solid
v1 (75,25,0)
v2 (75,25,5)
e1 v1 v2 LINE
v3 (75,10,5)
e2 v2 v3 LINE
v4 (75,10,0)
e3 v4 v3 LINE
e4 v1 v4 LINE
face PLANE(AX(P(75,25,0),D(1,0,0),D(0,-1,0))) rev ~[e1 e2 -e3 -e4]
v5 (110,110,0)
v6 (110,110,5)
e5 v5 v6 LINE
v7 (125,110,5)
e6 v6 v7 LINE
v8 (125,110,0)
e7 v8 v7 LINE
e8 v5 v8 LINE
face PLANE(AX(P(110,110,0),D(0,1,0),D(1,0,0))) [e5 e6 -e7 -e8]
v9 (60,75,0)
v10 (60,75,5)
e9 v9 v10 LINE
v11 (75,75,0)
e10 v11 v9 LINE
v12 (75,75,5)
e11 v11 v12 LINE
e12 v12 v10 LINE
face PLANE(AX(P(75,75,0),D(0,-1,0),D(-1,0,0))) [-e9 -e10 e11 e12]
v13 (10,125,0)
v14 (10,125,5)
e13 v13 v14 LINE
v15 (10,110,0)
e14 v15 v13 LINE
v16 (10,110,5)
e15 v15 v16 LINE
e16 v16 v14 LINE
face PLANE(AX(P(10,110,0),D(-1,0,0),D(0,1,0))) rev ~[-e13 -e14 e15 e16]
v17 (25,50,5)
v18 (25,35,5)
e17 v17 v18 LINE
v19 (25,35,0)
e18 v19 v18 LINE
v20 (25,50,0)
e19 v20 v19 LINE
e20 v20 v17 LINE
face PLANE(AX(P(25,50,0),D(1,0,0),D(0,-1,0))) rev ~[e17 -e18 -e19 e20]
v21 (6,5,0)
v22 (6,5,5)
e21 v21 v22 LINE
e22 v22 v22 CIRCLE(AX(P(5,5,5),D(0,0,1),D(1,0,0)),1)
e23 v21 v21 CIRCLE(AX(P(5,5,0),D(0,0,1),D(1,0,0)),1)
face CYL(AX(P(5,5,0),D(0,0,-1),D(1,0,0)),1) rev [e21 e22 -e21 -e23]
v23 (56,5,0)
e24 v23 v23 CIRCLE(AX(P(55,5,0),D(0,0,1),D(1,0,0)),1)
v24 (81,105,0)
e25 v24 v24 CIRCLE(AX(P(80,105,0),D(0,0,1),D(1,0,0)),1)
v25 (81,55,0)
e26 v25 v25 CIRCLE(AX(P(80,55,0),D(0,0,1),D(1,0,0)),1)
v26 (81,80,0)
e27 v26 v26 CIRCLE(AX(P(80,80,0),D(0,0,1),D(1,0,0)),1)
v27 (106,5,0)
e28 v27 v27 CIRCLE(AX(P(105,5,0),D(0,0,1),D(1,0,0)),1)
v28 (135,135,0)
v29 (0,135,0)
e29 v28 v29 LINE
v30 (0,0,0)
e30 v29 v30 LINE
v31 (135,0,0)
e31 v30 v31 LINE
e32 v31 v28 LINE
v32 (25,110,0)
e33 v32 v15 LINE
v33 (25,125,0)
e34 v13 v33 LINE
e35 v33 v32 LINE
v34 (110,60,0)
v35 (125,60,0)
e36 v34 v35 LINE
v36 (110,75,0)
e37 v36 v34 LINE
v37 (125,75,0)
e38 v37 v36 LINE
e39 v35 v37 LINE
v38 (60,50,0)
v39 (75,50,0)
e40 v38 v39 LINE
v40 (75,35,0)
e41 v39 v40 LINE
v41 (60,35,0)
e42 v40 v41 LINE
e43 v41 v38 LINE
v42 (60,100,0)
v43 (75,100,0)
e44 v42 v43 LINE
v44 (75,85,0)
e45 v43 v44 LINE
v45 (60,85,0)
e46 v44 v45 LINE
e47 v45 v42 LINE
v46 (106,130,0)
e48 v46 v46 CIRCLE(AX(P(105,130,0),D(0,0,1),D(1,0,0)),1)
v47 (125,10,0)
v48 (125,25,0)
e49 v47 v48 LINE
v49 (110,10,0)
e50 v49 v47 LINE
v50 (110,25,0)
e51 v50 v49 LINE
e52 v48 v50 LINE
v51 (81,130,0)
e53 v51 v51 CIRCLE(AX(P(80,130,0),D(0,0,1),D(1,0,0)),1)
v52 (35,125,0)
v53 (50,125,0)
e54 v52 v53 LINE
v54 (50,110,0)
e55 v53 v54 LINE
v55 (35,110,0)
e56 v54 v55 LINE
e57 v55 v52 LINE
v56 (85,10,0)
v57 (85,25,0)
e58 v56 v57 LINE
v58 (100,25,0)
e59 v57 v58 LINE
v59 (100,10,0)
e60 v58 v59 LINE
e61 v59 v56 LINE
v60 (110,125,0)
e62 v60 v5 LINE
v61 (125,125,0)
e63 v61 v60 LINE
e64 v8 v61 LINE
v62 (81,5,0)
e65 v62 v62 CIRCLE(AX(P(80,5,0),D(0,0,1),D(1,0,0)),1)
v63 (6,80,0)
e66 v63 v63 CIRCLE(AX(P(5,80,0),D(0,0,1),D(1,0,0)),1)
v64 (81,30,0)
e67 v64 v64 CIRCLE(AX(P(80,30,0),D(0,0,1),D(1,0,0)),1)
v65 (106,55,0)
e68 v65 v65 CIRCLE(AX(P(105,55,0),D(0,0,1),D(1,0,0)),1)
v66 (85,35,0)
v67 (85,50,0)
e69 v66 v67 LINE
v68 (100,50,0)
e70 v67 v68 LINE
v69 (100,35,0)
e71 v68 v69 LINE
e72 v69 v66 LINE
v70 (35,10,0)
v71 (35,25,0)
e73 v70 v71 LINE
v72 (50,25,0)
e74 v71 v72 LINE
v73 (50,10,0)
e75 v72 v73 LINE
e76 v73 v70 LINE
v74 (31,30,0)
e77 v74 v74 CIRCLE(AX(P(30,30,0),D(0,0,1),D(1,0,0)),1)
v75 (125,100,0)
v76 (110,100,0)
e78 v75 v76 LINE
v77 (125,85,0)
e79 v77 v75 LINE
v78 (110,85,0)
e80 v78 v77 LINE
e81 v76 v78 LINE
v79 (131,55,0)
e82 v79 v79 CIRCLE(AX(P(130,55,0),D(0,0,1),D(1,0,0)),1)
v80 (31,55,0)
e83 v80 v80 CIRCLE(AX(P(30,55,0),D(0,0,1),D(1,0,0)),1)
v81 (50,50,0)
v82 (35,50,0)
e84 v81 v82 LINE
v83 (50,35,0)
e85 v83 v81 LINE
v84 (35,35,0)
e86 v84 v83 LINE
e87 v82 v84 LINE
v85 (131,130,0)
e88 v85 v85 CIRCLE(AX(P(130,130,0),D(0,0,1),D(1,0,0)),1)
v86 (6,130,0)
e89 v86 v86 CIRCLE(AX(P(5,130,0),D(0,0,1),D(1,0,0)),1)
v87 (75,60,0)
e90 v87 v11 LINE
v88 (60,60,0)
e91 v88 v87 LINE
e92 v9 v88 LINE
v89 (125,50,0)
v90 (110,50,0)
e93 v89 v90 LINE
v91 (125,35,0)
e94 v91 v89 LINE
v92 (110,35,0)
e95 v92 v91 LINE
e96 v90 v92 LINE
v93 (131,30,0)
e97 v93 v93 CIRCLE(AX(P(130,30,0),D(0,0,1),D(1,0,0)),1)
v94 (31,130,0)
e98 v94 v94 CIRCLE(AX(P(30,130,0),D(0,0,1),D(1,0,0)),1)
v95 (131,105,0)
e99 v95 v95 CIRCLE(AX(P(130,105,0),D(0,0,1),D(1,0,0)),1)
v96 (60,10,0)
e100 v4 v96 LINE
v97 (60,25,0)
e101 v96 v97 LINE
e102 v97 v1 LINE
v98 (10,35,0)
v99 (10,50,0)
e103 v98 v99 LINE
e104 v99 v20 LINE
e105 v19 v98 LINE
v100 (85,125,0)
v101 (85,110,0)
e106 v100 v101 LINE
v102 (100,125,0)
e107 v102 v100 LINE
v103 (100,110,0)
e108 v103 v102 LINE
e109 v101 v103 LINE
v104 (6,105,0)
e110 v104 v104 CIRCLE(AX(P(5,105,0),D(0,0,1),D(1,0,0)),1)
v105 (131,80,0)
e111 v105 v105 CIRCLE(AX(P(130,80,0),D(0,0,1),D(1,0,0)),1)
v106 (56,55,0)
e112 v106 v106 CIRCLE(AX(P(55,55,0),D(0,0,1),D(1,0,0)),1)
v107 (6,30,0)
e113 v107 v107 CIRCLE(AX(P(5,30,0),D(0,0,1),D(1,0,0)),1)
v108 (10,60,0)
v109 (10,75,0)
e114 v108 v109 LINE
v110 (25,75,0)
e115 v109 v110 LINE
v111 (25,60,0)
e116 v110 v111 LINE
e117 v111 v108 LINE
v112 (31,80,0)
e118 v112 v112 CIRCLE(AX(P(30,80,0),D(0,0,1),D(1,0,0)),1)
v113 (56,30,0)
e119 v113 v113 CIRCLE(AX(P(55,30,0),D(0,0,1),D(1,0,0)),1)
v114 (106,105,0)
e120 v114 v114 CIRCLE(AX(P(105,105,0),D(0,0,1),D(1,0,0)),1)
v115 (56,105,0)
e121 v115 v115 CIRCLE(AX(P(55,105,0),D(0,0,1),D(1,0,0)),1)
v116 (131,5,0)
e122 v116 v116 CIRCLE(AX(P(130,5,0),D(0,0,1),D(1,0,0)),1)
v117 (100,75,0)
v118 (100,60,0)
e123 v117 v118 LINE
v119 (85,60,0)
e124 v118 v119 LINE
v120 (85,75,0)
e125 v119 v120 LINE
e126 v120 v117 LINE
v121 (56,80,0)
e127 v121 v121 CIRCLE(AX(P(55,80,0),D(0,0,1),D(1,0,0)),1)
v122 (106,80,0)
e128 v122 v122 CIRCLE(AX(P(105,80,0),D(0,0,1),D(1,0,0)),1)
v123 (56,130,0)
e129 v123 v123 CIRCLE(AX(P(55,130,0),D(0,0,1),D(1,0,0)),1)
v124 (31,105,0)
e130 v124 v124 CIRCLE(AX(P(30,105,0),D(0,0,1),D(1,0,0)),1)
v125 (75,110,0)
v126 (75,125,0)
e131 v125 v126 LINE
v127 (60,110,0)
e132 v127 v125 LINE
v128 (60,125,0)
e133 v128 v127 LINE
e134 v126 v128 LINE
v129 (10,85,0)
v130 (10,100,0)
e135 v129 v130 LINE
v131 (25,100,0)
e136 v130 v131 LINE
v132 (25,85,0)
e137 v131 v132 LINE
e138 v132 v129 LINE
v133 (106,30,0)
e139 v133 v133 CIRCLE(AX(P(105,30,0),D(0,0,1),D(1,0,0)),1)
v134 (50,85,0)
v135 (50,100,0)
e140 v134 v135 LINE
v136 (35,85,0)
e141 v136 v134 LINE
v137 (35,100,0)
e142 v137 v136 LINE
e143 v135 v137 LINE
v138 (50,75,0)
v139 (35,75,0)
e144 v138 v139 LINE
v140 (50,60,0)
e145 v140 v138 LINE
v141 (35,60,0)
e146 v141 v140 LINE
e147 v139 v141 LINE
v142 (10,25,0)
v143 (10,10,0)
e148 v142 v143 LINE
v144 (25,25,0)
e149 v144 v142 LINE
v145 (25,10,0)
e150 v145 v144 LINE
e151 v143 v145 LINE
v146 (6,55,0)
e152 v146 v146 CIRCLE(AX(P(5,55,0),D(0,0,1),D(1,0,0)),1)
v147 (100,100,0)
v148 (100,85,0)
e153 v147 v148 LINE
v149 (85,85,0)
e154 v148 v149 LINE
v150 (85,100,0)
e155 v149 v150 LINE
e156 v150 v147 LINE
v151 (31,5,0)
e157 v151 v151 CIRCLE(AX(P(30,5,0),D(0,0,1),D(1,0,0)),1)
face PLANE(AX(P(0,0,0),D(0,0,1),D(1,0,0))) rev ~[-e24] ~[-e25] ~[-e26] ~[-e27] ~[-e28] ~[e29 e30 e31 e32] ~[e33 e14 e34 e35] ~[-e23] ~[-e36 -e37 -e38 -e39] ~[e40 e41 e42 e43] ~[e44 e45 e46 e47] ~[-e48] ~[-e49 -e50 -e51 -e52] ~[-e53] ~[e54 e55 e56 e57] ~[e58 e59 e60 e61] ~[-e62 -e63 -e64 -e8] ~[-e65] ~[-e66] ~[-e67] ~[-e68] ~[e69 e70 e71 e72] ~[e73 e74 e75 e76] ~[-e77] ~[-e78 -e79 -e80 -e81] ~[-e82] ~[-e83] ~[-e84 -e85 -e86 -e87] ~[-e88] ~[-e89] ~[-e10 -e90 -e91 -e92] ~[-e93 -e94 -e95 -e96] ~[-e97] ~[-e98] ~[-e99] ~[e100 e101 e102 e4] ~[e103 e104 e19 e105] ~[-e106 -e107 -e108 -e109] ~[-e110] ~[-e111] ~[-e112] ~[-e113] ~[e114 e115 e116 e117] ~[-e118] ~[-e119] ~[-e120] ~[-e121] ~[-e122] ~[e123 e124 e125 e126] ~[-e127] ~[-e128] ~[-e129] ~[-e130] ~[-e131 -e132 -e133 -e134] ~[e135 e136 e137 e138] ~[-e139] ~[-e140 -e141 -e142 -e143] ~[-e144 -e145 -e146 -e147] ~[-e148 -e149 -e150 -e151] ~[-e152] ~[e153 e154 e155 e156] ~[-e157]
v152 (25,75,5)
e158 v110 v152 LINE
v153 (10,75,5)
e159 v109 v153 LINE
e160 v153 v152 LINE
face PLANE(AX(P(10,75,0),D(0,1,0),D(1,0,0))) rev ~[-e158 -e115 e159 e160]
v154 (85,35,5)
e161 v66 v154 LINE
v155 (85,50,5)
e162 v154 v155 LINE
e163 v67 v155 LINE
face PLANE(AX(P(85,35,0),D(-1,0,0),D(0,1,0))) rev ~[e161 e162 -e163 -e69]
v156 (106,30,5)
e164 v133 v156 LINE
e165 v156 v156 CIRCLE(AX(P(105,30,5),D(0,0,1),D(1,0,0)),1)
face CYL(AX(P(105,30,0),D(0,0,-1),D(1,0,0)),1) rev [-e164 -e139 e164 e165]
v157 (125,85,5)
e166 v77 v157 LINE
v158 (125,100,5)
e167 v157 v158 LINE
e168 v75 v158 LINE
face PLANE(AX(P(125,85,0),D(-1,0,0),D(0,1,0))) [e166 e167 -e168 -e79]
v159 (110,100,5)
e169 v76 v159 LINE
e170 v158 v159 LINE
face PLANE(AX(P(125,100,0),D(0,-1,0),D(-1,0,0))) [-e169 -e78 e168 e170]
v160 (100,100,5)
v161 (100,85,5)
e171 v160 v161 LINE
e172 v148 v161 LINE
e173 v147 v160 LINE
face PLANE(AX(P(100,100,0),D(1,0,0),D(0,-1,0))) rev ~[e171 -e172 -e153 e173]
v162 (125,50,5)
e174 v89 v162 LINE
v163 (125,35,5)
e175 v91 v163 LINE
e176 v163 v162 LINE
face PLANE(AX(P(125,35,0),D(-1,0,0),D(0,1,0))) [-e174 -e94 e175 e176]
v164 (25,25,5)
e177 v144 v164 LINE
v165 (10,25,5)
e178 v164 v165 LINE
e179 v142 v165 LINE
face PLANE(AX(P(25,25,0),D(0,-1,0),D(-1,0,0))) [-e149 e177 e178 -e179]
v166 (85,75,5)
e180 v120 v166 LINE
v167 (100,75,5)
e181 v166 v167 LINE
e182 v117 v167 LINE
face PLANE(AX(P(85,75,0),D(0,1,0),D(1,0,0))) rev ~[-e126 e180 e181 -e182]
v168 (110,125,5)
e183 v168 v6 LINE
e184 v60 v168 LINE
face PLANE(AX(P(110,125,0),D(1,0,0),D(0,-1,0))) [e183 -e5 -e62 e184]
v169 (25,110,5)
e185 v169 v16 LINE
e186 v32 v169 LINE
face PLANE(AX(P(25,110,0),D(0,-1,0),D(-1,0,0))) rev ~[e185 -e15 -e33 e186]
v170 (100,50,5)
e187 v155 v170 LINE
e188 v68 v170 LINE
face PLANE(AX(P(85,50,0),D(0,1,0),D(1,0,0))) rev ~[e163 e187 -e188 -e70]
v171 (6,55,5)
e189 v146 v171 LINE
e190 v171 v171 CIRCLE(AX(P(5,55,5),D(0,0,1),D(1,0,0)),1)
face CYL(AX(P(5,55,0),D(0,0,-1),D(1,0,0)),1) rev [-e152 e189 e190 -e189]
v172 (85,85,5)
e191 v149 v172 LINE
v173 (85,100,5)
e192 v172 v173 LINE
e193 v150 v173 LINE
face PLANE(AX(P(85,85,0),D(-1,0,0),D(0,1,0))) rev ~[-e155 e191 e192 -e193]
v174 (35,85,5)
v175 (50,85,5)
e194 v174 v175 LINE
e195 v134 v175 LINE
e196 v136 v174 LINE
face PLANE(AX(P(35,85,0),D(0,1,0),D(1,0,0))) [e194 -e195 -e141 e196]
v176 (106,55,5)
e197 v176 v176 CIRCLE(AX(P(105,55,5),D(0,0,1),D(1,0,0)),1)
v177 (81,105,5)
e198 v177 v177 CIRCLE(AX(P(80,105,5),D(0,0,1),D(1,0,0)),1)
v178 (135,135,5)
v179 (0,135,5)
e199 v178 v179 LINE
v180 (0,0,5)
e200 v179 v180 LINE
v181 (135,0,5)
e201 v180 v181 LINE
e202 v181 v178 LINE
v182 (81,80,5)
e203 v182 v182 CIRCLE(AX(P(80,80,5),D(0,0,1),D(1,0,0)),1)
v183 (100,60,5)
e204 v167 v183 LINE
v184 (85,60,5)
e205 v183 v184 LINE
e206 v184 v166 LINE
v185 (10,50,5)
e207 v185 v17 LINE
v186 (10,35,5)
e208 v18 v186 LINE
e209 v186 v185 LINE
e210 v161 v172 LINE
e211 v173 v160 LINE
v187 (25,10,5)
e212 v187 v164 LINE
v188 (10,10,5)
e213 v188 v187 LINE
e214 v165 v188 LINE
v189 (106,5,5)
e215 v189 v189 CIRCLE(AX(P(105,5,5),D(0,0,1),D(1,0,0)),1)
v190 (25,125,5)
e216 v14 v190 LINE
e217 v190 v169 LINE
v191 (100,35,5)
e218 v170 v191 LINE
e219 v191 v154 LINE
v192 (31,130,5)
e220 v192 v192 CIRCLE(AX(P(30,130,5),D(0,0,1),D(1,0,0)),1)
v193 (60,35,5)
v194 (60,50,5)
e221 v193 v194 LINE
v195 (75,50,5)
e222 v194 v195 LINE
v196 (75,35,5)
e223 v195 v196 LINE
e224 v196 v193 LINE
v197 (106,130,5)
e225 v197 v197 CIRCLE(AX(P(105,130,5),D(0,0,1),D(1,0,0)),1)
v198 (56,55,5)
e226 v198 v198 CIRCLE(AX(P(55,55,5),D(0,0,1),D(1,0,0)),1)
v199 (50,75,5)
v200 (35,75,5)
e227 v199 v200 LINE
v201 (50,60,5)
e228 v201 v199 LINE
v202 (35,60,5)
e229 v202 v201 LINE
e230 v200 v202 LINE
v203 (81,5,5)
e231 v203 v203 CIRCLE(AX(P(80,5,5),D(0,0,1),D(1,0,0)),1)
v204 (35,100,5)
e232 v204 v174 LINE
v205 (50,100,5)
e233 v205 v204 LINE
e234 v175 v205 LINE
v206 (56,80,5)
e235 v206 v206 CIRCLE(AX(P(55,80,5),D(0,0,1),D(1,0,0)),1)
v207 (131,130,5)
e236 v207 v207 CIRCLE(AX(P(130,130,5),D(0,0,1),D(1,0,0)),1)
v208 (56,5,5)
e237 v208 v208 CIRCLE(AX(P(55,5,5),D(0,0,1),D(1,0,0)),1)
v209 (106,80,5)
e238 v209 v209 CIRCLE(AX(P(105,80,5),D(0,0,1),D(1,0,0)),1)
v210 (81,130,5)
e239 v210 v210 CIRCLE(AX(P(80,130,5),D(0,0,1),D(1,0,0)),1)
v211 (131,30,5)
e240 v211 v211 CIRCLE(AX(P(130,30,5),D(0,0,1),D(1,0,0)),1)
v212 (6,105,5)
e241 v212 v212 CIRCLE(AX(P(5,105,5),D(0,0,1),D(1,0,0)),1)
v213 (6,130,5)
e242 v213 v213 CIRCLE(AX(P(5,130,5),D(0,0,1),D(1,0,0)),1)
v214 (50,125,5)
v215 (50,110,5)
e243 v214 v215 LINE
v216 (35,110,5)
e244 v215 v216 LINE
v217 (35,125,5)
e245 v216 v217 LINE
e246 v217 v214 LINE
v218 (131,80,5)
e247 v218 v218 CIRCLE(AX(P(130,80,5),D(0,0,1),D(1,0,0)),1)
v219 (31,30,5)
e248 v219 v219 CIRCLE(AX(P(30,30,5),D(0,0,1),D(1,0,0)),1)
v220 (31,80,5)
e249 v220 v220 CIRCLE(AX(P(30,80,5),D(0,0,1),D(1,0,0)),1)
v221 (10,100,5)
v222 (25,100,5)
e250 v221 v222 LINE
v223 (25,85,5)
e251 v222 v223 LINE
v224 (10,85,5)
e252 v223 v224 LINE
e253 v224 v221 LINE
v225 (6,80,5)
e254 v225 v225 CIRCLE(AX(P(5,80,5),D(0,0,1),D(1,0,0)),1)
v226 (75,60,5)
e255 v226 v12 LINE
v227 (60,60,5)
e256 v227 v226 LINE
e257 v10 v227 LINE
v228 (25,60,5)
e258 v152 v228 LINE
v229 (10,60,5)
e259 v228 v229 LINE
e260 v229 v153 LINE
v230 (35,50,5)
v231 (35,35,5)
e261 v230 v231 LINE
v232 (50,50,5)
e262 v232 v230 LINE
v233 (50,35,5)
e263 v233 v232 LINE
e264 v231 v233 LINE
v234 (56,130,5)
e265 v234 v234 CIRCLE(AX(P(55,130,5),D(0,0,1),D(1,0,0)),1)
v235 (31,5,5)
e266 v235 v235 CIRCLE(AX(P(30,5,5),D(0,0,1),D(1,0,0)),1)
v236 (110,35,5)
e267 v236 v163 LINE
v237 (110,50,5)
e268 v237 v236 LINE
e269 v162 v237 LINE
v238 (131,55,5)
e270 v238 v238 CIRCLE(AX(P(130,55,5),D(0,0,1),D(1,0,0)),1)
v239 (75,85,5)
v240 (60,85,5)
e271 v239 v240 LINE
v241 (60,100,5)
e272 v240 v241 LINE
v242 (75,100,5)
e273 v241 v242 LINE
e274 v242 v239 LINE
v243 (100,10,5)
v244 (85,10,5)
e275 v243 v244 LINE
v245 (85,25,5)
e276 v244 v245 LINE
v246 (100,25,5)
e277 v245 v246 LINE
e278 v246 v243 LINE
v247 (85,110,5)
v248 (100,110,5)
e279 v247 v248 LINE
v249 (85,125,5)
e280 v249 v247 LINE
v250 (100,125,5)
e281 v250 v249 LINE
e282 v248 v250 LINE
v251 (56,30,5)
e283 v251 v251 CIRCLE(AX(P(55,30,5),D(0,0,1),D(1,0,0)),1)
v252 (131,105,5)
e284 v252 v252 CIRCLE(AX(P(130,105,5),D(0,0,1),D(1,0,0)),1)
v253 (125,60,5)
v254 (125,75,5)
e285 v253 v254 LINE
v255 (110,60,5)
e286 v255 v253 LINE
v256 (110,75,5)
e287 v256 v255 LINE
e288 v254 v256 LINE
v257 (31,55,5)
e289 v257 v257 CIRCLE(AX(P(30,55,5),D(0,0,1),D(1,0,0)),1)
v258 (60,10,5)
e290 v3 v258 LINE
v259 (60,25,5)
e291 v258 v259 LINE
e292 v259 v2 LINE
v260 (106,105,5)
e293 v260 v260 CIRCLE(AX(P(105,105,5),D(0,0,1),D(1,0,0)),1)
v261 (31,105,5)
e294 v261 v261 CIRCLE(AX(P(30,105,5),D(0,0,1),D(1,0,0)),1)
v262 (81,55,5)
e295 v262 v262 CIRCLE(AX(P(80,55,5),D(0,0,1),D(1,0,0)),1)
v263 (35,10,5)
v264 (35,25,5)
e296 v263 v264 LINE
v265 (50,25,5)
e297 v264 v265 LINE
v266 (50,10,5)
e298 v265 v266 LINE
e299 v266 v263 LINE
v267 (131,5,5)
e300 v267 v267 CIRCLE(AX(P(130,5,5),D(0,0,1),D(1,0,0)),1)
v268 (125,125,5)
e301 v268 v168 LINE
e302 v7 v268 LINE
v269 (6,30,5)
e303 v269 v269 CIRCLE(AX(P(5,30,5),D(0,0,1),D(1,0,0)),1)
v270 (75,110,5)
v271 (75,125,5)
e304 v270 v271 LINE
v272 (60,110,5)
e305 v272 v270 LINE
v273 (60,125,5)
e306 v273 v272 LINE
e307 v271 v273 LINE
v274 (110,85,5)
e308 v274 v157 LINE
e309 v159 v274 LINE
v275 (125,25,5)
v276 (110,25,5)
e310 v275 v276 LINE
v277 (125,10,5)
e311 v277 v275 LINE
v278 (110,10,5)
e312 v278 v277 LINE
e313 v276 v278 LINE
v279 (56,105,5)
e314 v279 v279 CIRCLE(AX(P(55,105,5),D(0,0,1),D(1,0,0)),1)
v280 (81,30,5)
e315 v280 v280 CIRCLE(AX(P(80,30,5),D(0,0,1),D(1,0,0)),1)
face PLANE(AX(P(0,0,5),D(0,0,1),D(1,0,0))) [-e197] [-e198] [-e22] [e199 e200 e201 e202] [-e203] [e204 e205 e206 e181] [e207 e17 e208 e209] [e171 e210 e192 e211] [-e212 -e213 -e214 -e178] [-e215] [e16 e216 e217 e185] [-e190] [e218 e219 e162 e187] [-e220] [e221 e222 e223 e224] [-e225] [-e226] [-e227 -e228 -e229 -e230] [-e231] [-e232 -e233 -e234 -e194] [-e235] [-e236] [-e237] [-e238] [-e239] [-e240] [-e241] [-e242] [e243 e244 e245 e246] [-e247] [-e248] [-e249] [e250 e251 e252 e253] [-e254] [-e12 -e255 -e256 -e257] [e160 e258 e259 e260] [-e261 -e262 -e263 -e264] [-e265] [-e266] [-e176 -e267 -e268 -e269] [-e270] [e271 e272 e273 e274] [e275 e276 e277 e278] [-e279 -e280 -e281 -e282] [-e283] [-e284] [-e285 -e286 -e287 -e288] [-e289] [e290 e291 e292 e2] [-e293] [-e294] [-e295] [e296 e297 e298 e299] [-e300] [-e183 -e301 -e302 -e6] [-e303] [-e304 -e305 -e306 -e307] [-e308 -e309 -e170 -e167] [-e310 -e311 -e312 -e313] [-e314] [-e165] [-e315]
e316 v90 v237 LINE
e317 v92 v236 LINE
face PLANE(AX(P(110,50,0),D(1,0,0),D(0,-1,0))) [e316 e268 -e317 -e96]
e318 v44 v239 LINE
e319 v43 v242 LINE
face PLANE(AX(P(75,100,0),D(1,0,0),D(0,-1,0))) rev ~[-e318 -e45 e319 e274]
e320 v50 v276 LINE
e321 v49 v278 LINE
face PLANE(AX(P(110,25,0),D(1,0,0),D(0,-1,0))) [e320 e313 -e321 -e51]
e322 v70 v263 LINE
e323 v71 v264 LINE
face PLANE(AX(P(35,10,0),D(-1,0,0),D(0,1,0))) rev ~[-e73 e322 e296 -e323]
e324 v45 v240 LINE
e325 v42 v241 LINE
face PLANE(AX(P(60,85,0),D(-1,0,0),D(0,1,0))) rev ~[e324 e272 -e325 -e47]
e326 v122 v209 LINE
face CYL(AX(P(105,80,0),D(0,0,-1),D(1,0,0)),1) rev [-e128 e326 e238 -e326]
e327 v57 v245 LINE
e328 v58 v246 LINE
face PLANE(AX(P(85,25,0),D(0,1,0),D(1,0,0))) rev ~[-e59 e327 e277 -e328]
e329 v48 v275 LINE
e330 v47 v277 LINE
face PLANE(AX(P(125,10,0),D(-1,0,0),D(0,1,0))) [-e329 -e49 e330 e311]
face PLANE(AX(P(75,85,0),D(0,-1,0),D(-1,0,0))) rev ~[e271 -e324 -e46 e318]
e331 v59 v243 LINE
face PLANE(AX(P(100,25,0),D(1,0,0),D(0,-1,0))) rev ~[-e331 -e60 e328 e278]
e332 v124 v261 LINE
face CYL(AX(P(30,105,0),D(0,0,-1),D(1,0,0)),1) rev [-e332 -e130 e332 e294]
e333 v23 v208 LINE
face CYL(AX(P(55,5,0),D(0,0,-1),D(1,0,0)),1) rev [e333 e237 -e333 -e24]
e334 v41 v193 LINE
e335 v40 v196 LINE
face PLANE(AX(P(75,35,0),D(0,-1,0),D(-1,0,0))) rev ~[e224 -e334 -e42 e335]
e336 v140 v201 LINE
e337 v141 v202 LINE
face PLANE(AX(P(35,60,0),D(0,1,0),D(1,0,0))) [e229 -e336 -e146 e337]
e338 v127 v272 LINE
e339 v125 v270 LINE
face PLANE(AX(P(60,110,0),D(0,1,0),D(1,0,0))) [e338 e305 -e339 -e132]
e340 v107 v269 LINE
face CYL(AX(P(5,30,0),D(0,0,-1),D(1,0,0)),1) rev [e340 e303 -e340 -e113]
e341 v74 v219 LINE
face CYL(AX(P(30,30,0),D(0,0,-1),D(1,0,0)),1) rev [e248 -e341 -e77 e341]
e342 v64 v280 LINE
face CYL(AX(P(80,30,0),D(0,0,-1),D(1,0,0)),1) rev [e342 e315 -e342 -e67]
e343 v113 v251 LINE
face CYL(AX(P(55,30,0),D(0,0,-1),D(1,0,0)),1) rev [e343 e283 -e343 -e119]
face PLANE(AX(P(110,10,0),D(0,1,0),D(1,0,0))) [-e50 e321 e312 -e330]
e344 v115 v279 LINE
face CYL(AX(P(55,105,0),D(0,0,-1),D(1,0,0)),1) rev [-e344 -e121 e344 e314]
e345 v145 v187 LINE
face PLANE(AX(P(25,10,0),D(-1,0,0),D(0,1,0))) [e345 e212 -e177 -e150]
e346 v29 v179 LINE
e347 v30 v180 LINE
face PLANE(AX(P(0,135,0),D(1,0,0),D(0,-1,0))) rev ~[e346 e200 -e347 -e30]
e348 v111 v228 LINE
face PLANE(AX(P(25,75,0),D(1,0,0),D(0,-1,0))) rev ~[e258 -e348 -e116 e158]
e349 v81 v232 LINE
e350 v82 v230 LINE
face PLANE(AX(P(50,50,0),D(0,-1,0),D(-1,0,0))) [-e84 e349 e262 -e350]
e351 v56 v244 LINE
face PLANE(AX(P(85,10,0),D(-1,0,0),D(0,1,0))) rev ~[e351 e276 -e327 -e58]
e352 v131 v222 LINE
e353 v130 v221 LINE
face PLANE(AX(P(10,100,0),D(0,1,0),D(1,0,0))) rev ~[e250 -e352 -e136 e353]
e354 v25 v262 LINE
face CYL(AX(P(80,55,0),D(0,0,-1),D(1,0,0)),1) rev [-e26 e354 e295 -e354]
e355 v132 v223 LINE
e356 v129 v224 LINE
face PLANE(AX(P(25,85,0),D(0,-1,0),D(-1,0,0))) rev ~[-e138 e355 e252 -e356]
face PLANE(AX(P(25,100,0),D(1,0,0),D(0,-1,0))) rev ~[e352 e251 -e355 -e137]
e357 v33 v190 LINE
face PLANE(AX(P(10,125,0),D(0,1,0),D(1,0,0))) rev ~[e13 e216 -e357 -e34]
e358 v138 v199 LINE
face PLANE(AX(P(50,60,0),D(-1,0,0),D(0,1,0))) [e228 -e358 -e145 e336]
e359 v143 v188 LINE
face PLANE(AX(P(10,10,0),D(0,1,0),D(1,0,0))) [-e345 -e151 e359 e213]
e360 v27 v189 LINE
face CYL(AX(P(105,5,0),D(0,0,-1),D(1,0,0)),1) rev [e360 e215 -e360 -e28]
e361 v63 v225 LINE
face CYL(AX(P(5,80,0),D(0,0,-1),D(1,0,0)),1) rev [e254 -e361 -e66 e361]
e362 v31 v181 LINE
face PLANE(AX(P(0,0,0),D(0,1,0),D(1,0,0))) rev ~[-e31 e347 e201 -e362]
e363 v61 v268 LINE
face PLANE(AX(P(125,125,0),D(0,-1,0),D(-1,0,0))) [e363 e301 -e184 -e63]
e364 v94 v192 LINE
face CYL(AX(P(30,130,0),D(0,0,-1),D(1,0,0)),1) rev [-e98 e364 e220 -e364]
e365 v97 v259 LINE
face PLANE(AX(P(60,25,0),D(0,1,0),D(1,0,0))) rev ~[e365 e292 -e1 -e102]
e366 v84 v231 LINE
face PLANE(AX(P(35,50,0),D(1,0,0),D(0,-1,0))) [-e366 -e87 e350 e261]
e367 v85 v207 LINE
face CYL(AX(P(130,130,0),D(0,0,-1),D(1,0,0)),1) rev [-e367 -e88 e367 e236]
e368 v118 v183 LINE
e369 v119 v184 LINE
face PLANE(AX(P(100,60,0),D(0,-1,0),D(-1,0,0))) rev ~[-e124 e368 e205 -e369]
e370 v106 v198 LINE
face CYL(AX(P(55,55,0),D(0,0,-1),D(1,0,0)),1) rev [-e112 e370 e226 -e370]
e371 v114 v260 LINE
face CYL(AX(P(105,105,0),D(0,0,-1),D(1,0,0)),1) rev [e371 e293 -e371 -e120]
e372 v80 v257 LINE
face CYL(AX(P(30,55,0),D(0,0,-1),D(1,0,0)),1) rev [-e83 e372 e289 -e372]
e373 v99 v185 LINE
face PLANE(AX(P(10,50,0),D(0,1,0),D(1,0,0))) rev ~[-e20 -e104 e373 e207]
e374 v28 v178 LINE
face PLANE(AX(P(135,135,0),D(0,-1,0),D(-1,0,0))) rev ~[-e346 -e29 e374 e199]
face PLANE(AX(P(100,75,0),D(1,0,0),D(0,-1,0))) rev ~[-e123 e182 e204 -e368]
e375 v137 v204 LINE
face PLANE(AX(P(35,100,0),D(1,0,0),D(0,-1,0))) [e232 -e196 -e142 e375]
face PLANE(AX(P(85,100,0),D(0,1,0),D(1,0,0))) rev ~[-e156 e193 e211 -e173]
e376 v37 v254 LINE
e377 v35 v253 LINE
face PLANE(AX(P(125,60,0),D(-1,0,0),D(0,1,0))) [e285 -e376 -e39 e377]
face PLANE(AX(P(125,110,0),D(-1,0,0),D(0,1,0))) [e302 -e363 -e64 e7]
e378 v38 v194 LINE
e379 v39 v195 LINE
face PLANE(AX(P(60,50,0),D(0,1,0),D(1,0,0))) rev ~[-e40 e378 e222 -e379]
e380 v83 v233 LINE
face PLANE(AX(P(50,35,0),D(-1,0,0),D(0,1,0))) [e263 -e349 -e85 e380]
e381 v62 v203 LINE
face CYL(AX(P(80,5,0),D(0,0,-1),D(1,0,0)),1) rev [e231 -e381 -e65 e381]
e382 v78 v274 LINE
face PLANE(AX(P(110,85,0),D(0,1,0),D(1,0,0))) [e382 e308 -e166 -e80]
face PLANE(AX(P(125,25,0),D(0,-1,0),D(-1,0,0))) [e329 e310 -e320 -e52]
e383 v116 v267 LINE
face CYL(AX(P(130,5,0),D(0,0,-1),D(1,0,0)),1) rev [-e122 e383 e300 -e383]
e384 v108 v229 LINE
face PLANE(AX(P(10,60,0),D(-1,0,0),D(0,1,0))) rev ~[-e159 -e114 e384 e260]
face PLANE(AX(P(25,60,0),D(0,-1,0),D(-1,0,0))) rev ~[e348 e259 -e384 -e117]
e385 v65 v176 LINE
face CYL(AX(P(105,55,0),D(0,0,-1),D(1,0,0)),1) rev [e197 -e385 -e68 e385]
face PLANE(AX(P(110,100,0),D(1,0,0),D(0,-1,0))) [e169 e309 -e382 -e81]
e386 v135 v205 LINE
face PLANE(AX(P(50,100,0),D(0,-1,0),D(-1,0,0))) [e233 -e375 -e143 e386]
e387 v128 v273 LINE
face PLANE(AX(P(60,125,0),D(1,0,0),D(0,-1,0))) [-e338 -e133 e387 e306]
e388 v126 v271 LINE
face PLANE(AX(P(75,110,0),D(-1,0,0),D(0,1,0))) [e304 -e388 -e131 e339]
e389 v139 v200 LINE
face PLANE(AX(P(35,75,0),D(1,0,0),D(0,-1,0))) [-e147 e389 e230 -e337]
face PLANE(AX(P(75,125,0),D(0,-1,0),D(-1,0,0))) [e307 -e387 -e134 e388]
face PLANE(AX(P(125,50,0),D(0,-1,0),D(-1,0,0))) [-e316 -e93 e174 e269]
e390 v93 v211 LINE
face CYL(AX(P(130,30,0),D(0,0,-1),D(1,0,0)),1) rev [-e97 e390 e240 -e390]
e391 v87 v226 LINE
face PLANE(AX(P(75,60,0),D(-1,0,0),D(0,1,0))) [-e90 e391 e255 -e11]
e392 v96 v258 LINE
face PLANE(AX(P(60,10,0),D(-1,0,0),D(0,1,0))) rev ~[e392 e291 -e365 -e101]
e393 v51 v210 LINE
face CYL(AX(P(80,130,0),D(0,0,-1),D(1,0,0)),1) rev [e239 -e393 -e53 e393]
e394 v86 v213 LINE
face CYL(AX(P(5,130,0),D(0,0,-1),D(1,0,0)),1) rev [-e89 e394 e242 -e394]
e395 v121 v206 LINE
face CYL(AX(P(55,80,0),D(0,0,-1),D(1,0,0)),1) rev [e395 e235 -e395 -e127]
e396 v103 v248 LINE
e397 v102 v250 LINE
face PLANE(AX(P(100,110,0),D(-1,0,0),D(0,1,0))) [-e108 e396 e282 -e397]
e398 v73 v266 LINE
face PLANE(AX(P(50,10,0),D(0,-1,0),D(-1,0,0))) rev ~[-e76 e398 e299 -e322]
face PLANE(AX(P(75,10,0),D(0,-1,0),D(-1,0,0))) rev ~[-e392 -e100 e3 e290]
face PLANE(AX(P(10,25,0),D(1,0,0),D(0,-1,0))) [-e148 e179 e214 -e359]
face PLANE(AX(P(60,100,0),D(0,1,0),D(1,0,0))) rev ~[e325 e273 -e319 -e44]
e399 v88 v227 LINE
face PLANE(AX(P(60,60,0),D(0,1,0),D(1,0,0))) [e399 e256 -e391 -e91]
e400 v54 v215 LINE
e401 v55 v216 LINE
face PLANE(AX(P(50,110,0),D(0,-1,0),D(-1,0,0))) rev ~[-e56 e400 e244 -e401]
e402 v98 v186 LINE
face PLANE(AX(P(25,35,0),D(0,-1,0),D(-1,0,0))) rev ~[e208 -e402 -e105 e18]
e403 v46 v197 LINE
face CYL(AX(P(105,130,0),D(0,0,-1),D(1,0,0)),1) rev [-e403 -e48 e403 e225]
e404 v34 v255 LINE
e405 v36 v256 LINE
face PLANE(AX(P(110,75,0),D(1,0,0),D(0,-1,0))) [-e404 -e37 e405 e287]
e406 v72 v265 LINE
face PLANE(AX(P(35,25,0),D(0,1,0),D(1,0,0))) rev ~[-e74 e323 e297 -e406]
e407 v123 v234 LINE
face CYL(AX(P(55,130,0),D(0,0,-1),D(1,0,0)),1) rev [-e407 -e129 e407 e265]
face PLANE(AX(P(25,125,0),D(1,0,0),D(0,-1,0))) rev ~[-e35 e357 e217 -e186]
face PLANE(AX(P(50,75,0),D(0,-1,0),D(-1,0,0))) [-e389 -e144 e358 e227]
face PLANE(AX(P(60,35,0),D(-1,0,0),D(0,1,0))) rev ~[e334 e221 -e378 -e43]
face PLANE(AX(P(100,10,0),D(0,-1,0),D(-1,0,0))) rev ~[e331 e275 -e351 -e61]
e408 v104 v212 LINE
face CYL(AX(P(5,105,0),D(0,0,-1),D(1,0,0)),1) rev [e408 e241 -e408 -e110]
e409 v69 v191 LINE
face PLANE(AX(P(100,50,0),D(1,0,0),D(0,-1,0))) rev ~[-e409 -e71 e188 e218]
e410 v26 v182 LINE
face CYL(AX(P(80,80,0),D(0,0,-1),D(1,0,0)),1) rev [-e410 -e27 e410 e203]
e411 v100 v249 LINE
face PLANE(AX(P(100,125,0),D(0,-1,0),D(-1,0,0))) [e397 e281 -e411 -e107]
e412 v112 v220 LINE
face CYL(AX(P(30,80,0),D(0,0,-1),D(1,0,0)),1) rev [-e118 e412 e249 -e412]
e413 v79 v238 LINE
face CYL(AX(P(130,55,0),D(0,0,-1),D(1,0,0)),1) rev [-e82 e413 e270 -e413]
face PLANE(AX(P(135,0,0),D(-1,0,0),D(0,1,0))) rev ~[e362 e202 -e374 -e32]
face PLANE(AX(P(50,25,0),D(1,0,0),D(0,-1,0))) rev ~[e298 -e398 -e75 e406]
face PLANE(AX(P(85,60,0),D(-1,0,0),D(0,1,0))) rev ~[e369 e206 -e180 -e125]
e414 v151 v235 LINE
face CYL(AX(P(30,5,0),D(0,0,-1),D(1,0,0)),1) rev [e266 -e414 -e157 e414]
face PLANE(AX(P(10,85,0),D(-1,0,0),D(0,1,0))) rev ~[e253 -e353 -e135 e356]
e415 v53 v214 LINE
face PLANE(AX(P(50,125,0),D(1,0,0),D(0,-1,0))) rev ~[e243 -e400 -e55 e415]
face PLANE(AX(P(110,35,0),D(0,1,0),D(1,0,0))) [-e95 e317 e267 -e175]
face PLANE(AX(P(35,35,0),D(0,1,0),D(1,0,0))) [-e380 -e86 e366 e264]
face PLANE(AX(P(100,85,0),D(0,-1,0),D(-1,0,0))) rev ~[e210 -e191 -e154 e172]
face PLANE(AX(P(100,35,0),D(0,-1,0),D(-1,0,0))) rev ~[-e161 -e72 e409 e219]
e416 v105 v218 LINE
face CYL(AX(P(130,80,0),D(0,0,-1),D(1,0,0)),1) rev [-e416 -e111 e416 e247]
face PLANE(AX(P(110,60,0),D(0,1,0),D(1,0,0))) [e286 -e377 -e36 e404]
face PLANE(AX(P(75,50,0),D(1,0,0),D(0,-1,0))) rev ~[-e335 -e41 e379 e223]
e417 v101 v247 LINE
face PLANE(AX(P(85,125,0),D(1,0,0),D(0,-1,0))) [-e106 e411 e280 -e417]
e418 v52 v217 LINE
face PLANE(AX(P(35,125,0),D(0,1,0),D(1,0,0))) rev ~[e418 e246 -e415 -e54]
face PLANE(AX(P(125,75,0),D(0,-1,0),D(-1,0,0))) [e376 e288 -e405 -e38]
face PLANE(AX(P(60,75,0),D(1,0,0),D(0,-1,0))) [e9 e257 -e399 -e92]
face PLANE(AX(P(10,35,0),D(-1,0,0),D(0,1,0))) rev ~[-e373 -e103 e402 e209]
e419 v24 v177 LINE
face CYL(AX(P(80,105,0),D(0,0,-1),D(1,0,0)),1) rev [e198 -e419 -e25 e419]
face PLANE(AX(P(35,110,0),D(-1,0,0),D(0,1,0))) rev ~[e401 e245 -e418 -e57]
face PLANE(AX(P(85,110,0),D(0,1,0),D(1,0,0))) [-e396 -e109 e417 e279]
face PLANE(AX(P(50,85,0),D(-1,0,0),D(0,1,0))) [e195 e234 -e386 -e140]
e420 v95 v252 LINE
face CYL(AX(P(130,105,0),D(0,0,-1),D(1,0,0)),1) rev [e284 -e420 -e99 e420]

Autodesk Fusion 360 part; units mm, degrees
sketch "Sketch1" plane through (0, 0, 0) normal (0, 0, 1) x (1, 0, 0) in component "Base"
sketch "Sketch2" plane through (0, 0, 0) normal (0, 0, 1) x (1, 0, 0) in component "Base"
  line L0 (0, 0) -> (135, 0)
  line L1 (135, 0) -> (135, 135)
  line L2 (135, 135) -> (0, 135)
  line L3 (0, 135) -> (0, 0)
  line L4 (10, 10) -> (25, 10)
  line L5 (25, 10) -> (25, 25)
  line L6 (25, 25) -> (10, 25)
  line L7 (10, 25) -> (10, 10)
  line L8 (10, 35) -> (10, 50)
  line L9 (10, 50) -> (25, 50)
  line L10 (25, 50) -> (25, 35)
  line L11 (25, 35) -> (10, 35)
  line L12 (10, 60) -> (10, 75)
  line L13 (10, 75) -> (25, 75)
  line L14 (25, 75) -> (25, 60)
  line L15 (25, 60) -> (10, 60)
  line L16 (10, 85) -> (10, 100)
  line L17 (10, 100) -> (25, 100)
  line L18 (25, 100) -> (25, 85)
  line L19 (25, 85) -> (10, 85)
  line L20 (10, 110) -> (10, 125)
  line L21 (10, 125) -> (25, 125)
  line L22 (25, 125) -> (25, 110)
  line L23 (25, 110) -> (10, 110)
  line L24 (35, 125) -> (50, 125)
  line L25 (50, 125) -> (50, 110)
  line L26 (50, 110) -> (35, 110)
  line L27 (35, 110) -> (35, 125)
  line L28 (60, 110) -> (75, 110)
  line L29 (75, 110) -> (75, 125)
  line L30 (75, 125) -> (60, 125)
  line L31 (60, 125) -> (60, 110)
  line L32 (85, 110) -> (100, 110)
  line L33 (100, 110) -> (100, 125)
  line L34 (100, 125) -> (85, 125)
  line L35 (85, 125) -> (85, 110)
  line L36 (110, 110) -> (125, 110)
  line L37 (125, 110) -> (125, 125)
  line L38 (125, 125) -> (110, 125)
  line L39 (110, 125) -> (110, 110)
  line L40 (125, 100) -> (110, 100)
  line L41 (110, 100) -> (110, 85)
  line L42 (110, 85) -> (125, 85)
  line L43 (125, 85) -> (125, 100)
  line L44 (125, 75) -> (110, 75)
  line L45 (110, 75) -> (110, 60)
  line L46 (110, 60) -> (125, 60)
  line L47 (125, 60) -> (125, 75)
  line L48 (125, 50) -> (110, 50)
  line L49 (110, 50) -> (110, 35)
  line L50 (110, 35) -> (125, 35)
  line L51 (125, 35) -> (125, 50)
  line L52 (125, 25) -> (110, 25)
  line L53 (110, 25) -> (110, 10)
  line L54 (110, 10) -> (125, 10)
  line L55 (125, 10) -> (125, 25)
  line L56 (100, 10) -> (85, 10)
  line L57 (85, 10) -> (85, 25)
  line L58 (85, 25) -> (100, 25)
  line L59 (100, 25) -> (100, 10)
  line L60 (75, 10) -> (60, 10)
  line L61 (60, 10) -> (60, 25)
  line L62 (60, 25) -> (75, 25)
  line L63 (75, 25) -> (75, 10)
  line L64 (50, 10) -> (35, 10)
  line L65 (35, 10) -> (35, 25)
  line L66 (35, 25) -> (50, 25)
  line L67 (50, 25) -> (50, 10)
  line L68 (35, 35) -> (50, 35)
  line L69 (50, 35) -> (50, 50)
  line L70 (50, 50) -> (35, 50)
  line L71 (35, 50) -> (35, 35)
  line L72 (35, 60) -> (50, 60)
  line L73 (50, 60) -> (50, 75)
  line L74 (50, 75) -> (35, 75)
  line L75 (35, 75) -> (35, 60)
  line L76 (35, 85) -> (50, 85)
  line L77 (50, 85) -> (50, 100)
  line L78 (50, 100) -> (35, 100)
  line L79 (35, 100) -> (35, 85)
  line L80 (60, 100) -> (75, 100)
  line L81 (75, 100) -> (75, 85)
  line L82 (75, 85) -> (60, 85)
  line L83 (60, 85) -> (60, 100)
  line L84 (85, 100) -> (100, 100)
  line L85 (100, 100) -> (100, 85)
  line L86 (100, 85) -> (85, 85)
  line L87 (85, 85) -> (85, 100)
  line L88 (85, 75) -> (100, 75)
  line L89 (100, 75) -> (100, 60)
  line L90 (100, 60) -> (85, 60)
  line L91 (85, 60) -> (85, 75)
  line L92 (85, 50) -> (100, 50)
  line L93 (100, 50) -> (100, 35)
  line L94 (100, 35) -> (85, 35)
  line L95 (85, 35) -> (85, 50)
  line L96 (75, 35) -> (60, 35)
  line L97 (60, 35) -> (60, 50)
  line L98 (60, 50) -> (75, 50)
  line L99 (75, 50) -> (75, 35)
  line L100 (60, 60) -> (75, 60)
  line L101 (75, 60) -> (75, 75)
  line L102 (75, 75) -> (60, 75)
  line L103 (60, 75) -> (60, 60)
  circle A0 centre (5, 130) radius 1
  circle A1 centre (30, 130) radius 1
  circle A2 centre (55, 130) radius 1
  circle A3 centre (80, 130) radius 1
  circle A4 centre (105, 130) radius 1
  circle A5 centre (130, 130) radius 1
  circle A6 centre (105, 105) radius 1
  circle A7 centre (130, 105) radius 1
  circle A8 centre (5, 105) radius 1
  circle A9 centre (55, 105) radius 1
  circle A10 centre (80, 105) radius 1
  circle A11 centre (30, 105) radius 1
  circle A12 centre (105, 80) radius 1
  circle A13 centre (130, 80) radius 1
  circle A14 centre (5, 80) radius 1
  circle A15 centre (55, 80) radius 1
  circle A16 centre (80, 80) radius 1
  circle A17 centre (30, 80) radius 1
  circle A18 centre (105, 55) radius 1
  circle A19 centre (130, 55) radius 1
  circle A20 centre (5, 55) radius 1
  circle A21 centre (55, 55) radius 1
  circle A22 centre (80, 55) radius 1
  circle A23 centre (30, 55) radius 1
  circle A24 centre (105, 30) radius 1
  circle A25 centre (130, 30) radius 1
  circle A26 centre (5, 30) radius 1
  circle A27 centre (55, 30) radius 1
  circle A28 centre (80, 30) radius 1
  circle A29 centre (30, 30) radius 1
  circle A30 centre (105, 5) radius 1
  circle A31 centre (130, 5) radius 1
  circle A32 centre (5, 5) radius 1
  circle A33 centre (55, 5) radius 1
  circle A34 centre (80, 5) radius 1
  circle A35 centre (30, 5) radius 1
  point P0 (10, 10)
  point P1 (125, 10)
  point P2 (125, 125)
  point P3 (10, 125)
  point P4 (10, 110)
  point P5 (10, 100)
  point P6 (10, 85)
  point P7 (10, 75)
  point P8 (10, 60)
  point P9 (10, 50)
  point P10 (10, 35)
  point P11 (10, 25)
  point P12 (25, 10)
  point P13 (35, 10)
  point P14 (50, 10)
  point P15 (60, 10)
  point P16 (75, 10)
  point P17 (85, 10)
  point P18 (100, 10)
  point P19 (110, 10)
  point P20 (125, 25)
  point P21 (125, 35)
  point P22 (125, 50)
  point P23 (125, 60)
  point P24 (125, 75)
  point P25 (125, 85)
  point P26 (125, 100)
  point P27 (125, 110)
  point P28 (110, 125)
  point P29 (100, 125)
  point P30 (85, 125)
  point P31 (75, 125)
  point P32 (60, 125)
  point P33 (50, 125)
  point P34 (35, 125)
  point P35 (25, 125)
  point P36 (25, 110)
  point P37 (25, 100)
  point P38 (25, 85)
  point P39 (25, 75)
  point P40 (25, 60)
  point P41 (25, 50)
  point P42 (25, 35)
  point P43 (25, 25)
  point P44 (35, 25)
  point P45 (50, 25)
  point P46 (60, 25)
  point P47 (75, 25)
  point P48 (85, 25)
  point P49 (100, 25)
  point P50 (110, 25)
  point P51 (110, 35)
  point P52 (110, 50)
  point P53 (110, 60)
  point P54 (110, 75)
  point P55 (110, 85)
  point P56 (110, 100)
  point P57 (110, 110)
  point P58 (100, 110)
  point P59 (85, 110)
  point P60 (75, 110)
  point P61 (60, 110)
  point P62 (50, 110)
  point P63 (35, 110)
  point P64 (35, 100)
  point P65 (35, 85)
  point P66 (35, 75)
  point P67 (35, 60)
  point P68 (35, 50)
  point P69 (35, 35)
  point P70 (50, 35)
  point P71 (60, 35)
  point P72 (75, 35)
  point P73 (85, 35)
  point P74 (100, 35)
  point P75 (100, 50)
  point P76 (100, 60)
  point P77 (100, 75)
  point P78 (100, 85)
  point P79 (100, 100)
  point P80 (85, 100)
  point P81 (75, 100)
  point P82 (60, 100)
  point P83 (50, 100)
  point P84 (50, 85)
  point P85 (50, 75)
  point P86 (50, 60)
  point P87 (50, 50)
  point P88 (60, 50)
  point P89 (75, 50)
  point P90 (85, 50)
  point P91 (85, 60)
  point P92 (85, 75)
  point P93 (85, 85)
  point P94 (75, 85)
  point P95 (60, 85)
  point P96 (60, 75)
  point P97 (60, 60)
  point P98 (75, 60)
  point P99 (75, 75)
  dimension "d8" = 135
  dimension "d9" = 135
  dimension "d12" = 2
  dimension "d13" = 2
  dimension "d14" = 2
  dimension "d15" = 2
  dimension "d16" = 2
  dimension "d17" = 2
  dimension "d24" = 2
  dimension "d25" = 2
  dimension "d26" = 2
  dimension "d27" = 2
  dimension "d28" = 2
  dimension "d29" = 2
  dimension "d30" = 2
  dimension "d31" = 2
  dimension "d32" = 2
  dimension "d33" = 2
  dimension "d34" = 2
  dimension "d35" = 2
  dimension "d36" = 2
  dimension "d37" = 2
  dimension "d38" = 2
  dimension "d39" = 2
  dimension "d40" = 2
  dimension "d41" = 2
  dimension "d42" = 2
  dimension "d43" = 2
  dimension "d44" = 2
  dimension "d45" = 2
  dimension "d46" = 2
  dimension "d47" = 2
  dimension "d48" = 2
  dimension "d49" = 2
  dimension "d50" = 2
  dimension "d51" = 2
  dimension "d52" = 2
  dimension "d53" = 2
extrude "Extrude1" add sketch "Sketch2" along normal blind 5 in component "Base"
component "Base" placed x (1, 0, 0) y (0, 1, 0) z (0, 0, 1) at (0, 0, 0)
